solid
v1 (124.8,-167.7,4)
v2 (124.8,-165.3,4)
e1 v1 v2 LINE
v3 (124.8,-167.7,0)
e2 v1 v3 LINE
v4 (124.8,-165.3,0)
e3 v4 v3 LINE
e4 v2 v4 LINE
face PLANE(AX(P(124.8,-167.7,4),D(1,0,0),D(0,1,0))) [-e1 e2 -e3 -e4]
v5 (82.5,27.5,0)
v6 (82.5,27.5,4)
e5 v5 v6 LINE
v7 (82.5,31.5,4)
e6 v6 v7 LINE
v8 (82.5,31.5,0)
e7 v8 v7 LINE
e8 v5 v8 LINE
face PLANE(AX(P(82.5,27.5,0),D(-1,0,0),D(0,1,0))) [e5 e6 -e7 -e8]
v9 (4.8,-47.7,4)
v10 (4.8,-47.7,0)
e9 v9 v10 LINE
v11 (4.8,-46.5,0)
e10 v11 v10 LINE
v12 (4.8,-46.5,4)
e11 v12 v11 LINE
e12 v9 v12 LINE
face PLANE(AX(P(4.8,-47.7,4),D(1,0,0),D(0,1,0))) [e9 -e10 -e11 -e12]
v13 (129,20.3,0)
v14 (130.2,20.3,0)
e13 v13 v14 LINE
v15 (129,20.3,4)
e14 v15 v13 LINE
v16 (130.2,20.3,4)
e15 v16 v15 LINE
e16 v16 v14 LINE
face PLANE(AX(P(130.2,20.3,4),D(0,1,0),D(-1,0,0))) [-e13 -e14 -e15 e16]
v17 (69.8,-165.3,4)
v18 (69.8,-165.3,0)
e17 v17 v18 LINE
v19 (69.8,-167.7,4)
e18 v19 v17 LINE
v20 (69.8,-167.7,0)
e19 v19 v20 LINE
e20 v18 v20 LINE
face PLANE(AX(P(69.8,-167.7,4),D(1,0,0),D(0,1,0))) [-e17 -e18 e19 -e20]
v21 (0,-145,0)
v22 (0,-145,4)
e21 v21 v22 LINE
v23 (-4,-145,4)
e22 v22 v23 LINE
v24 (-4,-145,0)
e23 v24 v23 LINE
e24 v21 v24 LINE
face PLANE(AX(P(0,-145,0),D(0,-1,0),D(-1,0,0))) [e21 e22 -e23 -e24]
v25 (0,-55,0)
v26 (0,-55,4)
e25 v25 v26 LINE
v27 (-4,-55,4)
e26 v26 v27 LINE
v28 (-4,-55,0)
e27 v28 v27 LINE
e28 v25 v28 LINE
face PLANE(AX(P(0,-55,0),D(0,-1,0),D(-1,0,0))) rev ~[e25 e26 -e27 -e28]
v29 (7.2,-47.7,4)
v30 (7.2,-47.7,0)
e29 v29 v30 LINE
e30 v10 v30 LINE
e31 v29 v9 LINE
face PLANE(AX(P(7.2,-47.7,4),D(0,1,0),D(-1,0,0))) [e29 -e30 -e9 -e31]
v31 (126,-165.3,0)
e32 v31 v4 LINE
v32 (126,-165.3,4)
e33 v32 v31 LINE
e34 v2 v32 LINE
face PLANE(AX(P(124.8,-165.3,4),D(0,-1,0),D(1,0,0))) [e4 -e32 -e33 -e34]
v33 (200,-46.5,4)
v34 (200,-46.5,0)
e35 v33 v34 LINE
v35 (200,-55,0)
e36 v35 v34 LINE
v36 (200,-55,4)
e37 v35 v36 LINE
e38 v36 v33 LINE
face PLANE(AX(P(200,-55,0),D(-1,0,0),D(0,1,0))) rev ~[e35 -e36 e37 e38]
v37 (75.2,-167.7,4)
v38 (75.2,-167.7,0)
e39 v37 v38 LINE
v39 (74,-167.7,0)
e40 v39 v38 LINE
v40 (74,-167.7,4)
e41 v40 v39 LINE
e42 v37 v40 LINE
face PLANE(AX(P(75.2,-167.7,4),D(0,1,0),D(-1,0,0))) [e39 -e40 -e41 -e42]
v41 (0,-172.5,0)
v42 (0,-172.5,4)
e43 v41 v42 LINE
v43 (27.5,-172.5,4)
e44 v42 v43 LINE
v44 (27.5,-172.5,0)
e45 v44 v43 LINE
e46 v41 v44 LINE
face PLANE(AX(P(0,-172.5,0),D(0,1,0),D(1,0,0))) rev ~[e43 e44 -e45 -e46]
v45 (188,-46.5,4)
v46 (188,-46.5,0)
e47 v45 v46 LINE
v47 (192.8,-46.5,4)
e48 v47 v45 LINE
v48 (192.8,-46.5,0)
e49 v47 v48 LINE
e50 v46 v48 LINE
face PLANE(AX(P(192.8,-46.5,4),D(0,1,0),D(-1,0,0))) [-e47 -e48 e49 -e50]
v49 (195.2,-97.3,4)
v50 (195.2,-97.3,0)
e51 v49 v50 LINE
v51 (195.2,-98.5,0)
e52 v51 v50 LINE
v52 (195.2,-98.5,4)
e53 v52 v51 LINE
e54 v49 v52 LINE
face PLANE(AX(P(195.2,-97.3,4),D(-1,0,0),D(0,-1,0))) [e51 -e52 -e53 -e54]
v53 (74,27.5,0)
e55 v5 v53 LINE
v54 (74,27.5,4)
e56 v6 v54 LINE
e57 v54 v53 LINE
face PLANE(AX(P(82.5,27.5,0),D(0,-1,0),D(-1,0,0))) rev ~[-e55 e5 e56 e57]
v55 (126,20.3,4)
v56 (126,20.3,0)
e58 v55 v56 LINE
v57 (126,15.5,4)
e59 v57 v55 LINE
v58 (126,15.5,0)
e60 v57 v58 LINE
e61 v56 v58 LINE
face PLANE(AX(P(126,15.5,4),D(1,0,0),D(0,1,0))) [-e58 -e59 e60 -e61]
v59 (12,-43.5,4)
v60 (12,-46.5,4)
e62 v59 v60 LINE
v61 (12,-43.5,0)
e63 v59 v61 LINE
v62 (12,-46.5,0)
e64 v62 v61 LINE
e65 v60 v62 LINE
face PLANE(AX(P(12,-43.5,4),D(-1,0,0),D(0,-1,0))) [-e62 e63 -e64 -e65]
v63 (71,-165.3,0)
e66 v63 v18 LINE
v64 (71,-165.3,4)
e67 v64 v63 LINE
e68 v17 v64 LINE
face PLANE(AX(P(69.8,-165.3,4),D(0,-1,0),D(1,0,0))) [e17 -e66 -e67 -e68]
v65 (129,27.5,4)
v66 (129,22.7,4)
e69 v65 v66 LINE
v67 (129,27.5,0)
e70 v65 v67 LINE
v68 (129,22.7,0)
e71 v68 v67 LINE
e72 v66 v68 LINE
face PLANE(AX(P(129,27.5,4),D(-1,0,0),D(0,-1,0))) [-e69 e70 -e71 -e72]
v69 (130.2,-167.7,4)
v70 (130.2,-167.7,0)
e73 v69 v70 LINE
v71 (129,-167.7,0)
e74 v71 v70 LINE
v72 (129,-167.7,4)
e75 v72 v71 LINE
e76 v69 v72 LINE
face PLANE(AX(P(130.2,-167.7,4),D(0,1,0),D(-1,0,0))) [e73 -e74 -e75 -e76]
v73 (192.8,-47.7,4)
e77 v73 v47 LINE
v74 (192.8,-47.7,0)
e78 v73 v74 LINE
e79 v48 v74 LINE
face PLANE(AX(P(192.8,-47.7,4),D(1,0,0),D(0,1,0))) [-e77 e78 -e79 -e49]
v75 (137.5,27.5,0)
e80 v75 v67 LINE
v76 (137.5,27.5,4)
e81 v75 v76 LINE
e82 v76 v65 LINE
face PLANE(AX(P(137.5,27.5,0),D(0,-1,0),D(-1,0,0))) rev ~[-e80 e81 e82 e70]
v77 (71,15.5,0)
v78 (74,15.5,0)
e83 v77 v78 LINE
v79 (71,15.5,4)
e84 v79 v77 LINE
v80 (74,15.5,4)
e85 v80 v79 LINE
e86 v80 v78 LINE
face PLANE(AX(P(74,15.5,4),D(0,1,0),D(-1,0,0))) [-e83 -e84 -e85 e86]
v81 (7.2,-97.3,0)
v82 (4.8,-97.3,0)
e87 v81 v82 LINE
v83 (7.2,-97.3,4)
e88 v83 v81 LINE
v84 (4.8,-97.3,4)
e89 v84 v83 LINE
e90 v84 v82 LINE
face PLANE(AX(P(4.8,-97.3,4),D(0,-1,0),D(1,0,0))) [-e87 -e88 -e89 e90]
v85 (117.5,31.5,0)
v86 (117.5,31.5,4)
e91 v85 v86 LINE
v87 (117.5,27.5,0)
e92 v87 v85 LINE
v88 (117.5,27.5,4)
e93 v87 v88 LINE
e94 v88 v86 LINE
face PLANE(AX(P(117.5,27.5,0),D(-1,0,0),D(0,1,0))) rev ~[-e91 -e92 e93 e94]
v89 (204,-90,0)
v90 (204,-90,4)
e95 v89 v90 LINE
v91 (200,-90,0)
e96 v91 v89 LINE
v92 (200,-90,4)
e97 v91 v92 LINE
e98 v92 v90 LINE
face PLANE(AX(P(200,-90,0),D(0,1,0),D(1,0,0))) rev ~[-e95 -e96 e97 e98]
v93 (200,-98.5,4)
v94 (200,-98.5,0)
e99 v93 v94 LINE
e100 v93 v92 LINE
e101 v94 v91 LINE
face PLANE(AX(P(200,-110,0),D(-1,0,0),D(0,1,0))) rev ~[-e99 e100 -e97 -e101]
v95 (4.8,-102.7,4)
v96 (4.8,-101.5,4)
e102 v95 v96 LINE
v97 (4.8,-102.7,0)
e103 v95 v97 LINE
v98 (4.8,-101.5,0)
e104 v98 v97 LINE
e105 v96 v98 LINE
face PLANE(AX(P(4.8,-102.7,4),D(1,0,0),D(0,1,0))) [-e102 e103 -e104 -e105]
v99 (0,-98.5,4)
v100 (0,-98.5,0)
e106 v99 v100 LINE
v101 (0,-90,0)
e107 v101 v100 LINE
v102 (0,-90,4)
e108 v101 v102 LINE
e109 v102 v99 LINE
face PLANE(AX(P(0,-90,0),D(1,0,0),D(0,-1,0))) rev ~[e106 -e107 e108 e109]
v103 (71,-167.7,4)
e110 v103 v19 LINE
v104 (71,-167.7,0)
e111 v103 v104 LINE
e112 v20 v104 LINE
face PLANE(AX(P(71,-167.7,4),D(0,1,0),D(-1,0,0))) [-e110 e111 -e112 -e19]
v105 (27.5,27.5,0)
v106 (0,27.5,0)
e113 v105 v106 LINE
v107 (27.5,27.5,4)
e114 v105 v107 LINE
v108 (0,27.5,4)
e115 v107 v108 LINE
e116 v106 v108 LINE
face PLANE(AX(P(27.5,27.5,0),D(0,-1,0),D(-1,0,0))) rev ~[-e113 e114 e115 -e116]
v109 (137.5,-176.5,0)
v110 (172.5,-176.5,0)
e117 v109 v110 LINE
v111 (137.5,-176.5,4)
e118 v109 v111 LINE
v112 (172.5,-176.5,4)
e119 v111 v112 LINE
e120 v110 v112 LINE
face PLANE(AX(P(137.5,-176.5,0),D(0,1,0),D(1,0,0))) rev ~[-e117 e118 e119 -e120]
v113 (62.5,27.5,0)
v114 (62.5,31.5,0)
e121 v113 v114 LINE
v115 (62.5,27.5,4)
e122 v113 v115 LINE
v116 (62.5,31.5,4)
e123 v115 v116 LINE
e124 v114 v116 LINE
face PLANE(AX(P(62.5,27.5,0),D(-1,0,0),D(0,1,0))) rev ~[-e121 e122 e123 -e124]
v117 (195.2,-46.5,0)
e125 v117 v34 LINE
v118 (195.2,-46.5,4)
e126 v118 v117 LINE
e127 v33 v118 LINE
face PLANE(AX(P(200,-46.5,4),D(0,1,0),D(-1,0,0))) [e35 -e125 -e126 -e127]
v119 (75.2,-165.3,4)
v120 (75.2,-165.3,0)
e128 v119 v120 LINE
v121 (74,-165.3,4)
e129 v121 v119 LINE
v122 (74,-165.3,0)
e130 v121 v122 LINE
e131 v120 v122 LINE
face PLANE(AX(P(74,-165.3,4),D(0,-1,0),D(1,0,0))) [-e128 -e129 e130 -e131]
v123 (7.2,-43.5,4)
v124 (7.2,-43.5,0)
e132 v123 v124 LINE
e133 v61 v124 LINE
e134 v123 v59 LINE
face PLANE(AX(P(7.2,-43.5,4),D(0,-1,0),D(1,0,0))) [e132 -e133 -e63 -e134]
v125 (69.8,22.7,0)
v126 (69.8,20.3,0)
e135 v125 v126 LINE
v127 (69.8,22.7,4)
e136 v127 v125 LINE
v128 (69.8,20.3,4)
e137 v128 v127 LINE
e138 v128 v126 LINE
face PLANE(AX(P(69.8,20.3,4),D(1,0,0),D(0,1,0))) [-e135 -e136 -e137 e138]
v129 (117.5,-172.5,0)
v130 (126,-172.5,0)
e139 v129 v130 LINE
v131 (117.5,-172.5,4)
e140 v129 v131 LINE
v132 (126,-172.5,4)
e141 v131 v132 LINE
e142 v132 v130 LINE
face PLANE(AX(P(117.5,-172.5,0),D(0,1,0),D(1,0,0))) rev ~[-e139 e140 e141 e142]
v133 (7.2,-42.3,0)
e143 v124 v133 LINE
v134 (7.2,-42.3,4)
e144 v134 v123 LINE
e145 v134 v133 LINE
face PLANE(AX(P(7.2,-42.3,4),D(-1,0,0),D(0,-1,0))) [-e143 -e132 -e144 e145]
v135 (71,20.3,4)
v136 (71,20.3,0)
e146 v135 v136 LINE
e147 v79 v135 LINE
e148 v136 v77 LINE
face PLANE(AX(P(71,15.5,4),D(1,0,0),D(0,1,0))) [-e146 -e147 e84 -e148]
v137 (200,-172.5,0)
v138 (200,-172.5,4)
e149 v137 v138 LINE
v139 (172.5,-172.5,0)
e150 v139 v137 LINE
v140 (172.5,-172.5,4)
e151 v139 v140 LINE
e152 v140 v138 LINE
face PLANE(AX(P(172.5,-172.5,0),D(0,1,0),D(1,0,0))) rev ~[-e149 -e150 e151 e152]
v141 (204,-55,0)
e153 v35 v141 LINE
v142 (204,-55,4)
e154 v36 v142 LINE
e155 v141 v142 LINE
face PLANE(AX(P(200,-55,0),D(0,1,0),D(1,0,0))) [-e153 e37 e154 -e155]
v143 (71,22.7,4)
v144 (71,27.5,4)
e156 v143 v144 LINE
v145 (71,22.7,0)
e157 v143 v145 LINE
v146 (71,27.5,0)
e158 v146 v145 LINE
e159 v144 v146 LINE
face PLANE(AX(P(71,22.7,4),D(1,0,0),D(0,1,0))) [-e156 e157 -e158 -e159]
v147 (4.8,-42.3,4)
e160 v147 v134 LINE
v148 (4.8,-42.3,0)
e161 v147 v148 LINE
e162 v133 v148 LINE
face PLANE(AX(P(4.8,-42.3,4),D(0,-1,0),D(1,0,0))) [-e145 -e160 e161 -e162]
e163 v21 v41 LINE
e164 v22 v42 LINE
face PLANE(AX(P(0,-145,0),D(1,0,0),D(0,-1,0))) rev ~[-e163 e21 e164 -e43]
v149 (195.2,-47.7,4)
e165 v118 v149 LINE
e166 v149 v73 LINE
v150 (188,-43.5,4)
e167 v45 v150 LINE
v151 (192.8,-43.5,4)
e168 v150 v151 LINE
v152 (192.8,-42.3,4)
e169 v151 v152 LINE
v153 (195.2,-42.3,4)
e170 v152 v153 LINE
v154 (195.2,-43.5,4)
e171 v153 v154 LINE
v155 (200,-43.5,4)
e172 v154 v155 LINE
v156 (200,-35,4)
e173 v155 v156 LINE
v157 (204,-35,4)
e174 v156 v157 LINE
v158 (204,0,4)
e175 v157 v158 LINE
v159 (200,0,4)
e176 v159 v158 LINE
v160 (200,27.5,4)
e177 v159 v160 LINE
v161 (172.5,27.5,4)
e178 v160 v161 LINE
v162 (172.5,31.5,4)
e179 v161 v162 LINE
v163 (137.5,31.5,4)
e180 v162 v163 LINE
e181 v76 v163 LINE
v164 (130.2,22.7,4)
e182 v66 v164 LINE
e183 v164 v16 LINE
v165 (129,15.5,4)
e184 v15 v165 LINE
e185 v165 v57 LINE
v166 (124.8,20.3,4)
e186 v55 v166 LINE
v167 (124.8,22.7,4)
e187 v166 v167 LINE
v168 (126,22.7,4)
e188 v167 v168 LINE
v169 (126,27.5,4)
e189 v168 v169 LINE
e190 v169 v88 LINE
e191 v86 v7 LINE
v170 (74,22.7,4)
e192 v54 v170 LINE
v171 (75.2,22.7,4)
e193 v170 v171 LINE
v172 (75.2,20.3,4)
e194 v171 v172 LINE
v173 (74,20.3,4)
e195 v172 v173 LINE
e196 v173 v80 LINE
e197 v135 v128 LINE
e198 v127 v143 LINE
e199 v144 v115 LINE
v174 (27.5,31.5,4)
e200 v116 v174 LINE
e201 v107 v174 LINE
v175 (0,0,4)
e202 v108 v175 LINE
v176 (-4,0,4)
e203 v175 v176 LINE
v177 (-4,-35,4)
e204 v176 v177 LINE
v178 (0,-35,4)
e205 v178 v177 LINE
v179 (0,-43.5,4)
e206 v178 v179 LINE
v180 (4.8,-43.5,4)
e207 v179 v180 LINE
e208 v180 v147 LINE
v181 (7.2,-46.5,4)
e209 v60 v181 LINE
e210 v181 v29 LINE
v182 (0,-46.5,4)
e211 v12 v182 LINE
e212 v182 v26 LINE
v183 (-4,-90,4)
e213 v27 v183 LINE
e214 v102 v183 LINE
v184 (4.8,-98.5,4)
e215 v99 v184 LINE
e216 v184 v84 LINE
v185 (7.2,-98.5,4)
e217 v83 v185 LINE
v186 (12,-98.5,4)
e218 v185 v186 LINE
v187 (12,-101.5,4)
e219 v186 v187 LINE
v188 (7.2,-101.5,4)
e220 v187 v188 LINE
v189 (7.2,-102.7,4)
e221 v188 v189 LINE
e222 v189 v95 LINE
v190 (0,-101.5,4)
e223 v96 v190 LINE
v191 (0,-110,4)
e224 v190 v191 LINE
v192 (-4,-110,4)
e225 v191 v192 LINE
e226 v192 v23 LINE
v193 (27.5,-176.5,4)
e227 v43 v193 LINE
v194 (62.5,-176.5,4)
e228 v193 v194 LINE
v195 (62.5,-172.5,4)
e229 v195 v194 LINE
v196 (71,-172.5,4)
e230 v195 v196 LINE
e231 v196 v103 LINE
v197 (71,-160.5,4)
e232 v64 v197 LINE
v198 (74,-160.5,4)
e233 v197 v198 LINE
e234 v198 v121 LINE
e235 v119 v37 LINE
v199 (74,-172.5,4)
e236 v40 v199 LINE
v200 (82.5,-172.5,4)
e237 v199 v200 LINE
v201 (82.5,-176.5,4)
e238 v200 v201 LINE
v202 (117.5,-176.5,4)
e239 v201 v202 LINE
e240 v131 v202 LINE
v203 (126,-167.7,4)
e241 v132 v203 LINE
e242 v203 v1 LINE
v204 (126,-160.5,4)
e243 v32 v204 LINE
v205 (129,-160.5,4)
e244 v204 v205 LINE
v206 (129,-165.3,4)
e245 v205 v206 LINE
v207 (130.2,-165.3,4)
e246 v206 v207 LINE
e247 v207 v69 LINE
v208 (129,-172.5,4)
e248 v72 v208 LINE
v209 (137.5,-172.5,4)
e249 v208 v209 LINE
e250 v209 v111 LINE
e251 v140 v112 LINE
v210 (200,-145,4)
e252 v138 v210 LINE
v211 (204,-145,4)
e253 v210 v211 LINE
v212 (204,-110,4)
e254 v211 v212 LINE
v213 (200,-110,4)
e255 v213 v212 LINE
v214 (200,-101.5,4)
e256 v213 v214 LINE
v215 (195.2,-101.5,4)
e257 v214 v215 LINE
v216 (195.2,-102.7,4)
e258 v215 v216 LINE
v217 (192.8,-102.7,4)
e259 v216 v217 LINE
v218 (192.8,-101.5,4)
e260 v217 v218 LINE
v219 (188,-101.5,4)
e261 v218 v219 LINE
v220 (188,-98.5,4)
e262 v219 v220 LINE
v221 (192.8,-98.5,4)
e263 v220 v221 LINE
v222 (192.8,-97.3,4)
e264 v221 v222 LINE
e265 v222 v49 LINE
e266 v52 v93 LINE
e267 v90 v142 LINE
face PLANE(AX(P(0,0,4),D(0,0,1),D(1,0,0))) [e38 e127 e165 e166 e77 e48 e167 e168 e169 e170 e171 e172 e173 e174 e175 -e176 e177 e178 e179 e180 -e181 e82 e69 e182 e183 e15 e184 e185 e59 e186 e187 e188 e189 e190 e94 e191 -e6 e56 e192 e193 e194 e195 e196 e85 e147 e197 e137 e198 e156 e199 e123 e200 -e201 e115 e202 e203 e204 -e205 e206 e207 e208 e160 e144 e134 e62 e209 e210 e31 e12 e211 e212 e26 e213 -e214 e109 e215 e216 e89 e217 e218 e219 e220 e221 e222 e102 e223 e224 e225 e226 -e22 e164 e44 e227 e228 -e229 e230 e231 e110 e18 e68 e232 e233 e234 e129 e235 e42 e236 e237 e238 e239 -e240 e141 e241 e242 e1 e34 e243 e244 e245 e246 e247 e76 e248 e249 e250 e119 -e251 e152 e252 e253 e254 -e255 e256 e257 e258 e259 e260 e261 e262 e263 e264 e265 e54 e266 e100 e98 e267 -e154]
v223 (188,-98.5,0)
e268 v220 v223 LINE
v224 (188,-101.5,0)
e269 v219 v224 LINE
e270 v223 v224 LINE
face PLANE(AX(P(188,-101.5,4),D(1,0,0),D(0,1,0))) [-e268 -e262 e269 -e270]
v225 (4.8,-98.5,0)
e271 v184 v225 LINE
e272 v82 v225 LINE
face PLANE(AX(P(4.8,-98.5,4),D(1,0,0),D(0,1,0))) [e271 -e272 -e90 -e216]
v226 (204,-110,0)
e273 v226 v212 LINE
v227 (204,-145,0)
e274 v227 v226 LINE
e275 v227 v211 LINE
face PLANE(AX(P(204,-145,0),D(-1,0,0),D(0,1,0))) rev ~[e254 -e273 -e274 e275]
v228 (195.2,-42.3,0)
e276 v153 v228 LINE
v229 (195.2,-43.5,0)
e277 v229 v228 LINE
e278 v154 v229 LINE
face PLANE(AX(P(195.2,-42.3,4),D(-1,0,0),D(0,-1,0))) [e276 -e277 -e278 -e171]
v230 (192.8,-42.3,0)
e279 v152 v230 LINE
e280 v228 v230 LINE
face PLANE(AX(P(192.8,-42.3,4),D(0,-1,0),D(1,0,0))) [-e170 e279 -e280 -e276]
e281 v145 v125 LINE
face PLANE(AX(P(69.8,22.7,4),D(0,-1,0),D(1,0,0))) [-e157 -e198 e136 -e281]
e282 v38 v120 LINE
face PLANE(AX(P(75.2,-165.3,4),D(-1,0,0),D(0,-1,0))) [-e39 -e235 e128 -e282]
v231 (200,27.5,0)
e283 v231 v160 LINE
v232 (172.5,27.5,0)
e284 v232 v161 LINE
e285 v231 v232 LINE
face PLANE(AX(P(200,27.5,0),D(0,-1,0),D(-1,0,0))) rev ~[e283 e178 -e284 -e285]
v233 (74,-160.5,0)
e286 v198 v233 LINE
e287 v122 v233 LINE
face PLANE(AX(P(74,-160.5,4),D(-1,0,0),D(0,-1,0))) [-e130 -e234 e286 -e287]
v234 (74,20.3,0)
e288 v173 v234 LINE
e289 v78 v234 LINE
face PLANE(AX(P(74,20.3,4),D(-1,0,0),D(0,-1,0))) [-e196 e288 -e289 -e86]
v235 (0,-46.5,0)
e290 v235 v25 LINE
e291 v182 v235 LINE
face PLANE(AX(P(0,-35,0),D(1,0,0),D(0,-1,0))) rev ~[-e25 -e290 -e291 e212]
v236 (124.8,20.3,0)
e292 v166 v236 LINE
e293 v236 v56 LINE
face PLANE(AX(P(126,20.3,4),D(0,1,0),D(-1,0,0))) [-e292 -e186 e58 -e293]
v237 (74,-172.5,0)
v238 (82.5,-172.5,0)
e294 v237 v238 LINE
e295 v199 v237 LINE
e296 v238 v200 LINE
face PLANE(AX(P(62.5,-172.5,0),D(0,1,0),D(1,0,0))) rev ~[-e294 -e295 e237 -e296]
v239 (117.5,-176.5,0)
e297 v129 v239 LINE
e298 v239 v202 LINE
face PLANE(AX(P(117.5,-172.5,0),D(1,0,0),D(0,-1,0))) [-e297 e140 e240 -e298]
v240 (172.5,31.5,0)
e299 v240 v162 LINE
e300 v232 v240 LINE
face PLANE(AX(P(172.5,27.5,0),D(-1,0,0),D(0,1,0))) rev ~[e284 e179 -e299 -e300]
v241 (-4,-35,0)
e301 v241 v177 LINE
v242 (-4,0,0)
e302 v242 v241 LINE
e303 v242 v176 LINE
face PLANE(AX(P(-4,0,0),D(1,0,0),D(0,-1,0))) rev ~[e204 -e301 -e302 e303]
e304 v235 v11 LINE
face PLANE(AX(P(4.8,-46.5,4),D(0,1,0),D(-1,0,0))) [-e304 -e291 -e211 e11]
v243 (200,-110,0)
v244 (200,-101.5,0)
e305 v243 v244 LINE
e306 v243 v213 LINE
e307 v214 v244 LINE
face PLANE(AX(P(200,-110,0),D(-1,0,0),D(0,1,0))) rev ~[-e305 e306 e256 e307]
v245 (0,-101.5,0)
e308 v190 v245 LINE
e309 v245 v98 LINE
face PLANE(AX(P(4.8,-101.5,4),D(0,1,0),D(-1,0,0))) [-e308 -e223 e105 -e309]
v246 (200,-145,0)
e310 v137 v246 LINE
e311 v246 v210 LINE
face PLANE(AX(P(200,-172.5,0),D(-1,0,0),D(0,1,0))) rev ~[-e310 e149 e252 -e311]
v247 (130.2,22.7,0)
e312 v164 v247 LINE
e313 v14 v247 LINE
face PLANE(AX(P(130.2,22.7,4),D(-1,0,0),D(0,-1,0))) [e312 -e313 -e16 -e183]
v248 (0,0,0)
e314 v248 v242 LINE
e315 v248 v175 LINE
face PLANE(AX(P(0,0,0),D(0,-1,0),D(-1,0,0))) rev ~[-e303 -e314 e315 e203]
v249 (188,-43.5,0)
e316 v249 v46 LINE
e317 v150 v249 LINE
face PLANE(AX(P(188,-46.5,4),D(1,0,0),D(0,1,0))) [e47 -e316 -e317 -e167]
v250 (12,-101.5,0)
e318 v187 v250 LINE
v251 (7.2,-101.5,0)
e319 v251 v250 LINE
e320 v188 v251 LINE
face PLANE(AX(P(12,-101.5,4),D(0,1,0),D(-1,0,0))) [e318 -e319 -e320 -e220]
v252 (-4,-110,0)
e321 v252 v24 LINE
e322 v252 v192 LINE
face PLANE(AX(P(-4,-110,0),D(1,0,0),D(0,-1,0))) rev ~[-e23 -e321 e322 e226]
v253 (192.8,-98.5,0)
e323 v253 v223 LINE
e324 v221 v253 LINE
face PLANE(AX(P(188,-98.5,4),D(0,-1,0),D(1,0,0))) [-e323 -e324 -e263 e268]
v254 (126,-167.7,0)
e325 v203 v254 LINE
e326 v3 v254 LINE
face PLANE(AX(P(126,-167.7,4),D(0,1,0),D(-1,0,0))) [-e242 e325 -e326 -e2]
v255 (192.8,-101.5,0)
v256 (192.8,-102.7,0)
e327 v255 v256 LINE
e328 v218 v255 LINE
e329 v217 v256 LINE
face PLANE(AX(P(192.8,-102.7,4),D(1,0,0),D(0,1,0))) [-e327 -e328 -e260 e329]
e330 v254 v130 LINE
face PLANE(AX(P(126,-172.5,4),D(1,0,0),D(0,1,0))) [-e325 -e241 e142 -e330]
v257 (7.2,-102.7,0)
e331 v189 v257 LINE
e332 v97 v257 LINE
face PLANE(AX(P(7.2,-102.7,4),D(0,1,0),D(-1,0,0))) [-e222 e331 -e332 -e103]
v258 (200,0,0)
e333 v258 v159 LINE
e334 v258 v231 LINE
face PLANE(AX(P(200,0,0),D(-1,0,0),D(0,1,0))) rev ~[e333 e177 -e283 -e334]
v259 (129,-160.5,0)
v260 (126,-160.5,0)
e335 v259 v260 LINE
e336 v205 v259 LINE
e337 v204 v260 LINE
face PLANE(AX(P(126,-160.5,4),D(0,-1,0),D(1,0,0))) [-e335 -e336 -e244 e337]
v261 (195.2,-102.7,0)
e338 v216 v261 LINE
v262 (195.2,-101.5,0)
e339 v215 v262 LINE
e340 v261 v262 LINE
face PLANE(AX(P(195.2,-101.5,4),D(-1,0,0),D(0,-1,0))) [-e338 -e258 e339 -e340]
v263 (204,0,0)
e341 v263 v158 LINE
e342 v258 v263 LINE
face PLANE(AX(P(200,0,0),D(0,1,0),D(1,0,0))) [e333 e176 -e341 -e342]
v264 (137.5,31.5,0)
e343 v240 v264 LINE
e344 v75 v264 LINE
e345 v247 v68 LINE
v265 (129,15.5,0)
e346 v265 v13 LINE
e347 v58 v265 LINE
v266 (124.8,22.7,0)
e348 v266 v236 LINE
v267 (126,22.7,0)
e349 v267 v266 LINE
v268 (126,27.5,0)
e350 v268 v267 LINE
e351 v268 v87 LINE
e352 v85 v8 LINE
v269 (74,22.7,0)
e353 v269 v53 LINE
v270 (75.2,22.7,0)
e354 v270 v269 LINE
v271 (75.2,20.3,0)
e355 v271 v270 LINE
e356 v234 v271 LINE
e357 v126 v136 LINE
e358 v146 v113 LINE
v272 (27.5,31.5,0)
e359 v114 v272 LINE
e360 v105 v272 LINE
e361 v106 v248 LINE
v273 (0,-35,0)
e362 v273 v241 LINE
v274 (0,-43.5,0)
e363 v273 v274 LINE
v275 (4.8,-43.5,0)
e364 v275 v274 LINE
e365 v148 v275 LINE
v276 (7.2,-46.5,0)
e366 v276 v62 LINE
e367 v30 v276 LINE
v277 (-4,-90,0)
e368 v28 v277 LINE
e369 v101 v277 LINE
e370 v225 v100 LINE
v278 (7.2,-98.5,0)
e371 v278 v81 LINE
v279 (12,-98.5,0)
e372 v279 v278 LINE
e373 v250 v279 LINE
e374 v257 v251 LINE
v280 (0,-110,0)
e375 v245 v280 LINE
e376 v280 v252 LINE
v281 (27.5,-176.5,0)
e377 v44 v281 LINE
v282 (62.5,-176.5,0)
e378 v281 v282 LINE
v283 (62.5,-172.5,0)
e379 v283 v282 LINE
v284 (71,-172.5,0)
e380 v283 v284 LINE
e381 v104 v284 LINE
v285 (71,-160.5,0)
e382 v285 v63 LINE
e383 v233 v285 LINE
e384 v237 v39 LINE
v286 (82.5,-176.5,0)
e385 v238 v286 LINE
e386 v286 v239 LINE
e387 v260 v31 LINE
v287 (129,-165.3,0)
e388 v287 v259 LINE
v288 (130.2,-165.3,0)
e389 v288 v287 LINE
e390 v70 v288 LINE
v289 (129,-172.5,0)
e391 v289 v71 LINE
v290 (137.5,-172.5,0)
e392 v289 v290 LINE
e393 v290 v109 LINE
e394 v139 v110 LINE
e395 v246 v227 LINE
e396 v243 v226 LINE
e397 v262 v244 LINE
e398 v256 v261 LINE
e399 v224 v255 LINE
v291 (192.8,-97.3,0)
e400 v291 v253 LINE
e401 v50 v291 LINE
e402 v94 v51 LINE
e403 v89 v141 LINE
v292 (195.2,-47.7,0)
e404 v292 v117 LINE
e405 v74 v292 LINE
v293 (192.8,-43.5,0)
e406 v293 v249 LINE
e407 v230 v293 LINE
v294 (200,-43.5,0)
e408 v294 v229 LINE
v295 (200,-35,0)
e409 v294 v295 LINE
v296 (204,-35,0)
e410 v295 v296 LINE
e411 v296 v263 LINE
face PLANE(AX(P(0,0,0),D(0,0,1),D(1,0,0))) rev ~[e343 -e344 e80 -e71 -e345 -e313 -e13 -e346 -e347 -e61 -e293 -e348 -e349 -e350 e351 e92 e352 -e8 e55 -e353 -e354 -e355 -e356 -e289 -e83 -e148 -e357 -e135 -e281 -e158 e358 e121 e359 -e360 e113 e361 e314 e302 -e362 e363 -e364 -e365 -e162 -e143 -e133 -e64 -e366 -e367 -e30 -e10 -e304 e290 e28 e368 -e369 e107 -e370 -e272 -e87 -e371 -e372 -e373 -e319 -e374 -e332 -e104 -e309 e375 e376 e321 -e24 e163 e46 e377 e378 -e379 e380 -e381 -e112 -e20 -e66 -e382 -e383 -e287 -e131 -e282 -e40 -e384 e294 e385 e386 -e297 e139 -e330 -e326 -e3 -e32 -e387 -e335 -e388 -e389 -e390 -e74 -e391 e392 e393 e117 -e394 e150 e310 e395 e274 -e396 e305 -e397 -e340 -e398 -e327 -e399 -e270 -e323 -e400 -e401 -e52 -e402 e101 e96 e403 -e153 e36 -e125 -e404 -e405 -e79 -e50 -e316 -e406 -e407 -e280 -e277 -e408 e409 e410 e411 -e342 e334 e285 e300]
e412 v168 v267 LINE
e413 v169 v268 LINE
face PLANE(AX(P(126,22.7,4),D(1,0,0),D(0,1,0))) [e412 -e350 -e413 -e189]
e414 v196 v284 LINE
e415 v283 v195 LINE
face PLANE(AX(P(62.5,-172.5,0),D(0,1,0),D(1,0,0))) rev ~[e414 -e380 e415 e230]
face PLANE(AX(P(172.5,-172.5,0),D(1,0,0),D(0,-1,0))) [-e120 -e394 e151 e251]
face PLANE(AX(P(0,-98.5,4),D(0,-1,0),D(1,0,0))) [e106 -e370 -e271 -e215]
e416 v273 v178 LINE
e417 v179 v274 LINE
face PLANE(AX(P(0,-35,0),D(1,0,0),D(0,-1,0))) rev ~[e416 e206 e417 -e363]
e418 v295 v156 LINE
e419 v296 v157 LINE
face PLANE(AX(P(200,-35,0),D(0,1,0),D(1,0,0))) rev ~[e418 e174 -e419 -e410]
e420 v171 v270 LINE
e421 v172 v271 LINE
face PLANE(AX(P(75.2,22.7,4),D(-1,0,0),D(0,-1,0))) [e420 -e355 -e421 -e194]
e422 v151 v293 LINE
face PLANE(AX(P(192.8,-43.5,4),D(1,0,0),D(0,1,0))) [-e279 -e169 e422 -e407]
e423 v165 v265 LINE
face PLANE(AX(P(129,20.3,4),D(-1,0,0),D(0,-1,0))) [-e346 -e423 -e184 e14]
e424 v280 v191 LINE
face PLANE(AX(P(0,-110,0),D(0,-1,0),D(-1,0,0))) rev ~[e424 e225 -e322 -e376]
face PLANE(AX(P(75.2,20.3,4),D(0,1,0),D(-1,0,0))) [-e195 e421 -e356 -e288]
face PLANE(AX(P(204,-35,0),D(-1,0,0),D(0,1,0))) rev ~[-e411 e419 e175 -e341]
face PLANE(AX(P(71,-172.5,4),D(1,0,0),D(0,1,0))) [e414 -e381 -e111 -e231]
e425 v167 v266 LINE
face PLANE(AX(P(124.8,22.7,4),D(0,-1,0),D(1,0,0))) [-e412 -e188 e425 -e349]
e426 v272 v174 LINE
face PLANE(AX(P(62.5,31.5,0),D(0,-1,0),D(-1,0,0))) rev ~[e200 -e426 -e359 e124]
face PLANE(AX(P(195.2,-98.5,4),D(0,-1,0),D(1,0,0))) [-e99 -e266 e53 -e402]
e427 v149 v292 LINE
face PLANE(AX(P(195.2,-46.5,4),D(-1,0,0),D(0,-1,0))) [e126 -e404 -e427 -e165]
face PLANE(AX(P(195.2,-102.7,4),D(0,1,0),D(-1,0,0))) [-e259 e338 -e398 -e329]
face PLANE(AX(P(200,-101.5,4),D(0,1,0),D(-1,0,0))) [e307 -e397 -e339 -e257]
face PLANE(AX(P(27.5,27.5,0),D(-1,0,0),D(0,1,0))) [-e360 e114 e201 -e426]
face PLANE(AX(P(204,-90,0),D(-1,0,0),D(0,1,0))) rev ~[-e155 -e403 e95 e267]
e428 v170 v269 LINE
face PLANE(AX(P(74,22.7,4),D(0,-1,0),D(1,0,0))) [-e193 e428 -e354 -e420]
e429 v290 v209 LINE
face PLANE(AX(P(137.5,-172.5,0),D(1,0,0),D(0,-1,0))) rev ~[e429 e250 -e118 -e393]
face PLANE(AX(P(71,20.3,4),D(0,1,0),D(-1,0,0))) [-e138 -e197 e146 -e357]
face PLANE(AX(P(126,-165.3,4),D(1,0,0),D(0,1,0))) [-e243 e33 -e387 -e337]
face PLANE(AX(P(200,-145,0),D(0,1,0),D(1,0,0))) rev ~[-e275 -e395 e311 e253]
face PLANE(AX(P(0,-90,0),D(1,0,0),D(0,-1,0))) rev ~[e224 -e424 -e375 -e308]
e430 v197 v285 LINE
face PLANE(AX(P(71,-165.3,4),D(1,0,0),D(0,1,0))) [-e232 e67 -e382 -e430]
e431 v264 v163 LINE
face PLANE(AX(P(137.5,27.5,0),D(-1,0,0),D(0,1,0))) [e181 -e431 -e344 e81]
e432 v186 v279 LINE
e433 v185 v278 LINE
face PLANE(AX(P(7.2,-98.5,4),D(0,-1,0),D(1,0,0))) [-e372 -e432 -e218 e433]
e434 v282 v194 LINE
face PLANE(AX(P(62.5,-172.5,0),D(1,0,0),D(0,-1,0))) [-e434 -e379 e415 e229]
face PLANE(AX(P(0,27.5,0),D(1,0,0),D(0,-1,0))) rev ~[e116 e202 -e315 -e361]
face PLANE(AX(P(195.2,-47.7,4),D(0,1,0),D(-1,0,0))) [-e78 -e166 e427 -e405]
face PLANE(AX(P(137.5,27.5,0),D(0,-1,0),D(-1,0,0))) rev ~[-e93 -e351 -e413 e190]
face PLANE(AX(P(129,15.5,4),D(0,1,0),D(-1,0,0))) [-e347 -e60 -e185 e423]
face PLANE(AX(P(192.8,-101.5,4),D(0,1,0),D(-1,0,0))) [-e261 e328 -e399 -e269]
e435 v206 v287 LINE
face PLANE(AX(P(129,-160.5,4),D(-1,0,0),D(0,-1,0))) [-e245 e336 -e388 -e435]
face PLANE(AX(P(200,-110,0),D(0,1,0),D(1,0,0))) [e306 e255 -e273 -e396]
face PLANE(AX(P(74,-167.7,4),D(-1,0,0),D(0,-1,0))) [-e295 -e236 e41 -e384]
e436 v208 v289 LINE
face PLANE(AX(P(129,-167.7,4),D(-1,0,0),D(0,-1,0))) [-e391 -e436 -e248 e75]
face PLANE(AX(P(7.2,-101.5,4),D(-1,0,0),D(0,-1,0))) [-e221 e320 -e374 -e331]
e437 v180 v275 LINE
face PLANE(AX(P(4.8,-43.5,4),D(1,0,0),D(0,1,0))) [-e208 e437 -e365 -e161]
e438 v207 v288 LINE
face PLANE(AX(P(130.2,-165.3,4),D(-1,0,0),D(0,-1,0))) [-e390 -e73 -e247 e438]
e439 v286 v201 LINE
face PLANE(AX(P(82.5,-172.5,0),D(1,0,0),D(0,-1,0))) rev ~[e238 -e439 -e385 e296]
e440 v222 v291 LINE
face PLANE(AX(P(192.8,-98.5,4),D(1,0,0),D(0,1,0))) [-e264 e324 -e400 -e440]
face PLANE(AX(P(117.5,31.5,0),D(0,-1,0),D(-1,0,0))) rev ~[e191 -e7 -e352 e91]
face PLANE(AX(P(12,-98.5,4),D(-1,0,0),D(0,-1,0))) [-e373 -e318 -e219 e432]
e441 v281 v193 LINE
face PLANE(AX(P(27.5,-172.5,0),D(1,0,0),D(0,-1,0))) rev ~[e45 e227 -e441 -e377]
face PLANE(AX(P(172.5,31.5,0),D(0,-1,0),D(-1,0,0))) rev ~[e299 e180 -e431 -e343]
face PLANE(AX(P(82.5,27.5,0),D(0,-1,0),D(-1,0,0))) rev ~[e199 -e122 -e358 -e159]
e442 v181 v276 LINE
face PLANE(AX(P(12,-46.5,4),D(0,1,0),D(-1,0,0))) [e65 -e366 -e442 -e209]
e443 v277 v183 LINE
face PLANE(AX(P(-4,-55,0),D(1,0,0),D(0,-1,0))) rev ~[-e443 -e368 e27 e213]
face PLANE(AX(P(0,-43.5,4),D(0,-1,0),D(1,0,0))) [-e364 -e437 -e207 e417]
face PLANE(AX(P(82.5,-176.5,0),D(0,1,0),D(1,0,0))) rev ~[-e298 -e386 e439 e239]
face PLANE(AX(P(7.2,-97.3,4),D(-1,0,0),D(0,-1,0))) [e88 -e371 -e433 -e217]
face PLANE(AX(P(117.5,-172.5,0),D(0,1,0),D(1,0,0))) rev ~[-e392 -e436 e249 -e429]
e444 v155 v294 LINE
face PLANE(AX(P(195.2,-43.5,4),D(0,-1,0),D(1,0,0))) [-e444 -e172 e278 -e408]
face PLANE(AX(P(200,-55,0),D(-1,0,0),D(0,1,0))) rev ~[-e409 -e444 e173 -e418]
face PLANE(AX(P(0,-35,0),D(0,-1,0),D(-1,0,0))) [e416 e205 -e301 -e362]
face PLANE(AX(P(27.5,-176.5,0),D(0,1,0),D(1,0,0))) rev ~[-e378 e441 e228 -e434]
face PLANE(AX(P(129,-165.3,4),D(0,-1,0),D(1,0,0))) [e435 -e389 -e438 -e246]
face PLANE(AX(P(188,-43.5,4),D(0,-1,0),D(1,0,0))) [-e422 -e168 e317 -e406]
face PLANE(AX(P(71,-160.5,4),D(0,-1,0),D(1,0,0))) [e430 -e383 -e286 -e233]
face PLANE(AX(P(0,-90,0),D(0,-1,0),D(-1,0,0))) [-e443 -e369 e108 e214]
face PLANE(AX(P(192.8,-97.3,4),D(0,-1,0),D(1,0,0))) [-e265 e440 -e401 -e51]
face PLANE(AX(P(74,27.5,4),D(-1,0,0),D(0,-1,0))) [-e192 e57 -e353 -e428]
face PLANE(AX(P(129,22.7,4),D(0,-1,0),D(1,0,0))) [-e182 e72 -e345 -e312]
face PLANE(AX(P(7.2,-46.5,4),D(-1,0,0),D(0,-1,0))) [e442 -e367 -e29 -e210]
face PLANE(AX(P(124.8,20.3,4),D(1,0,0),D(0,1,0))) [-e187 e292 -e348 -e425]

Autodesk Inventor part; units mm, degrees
ref_plane "YZ Plane" through (0, 0, 0) normal (1, 0, 0) x (0, 1, 0)
ref_plane "XZ Plane" through (0, 0, 0) normal (0, 1, 0) x (-1, 0, 0)
ref_plane "XY Plane" through (0, 0, 0) normal (0, 0, 1) x (1, 0, 0)
ref_plane "Work Plane1" through (0, 0, 0) normal (0, 0, 1) x (1, 0, 0)
sketch "Sketch2" plane through (0, 0, 0) normal (0, 0, 1) x (1, 0, 0)
  line L0 (-4, -110) -> (-4, -145) projected
  line L1 (0, -110) -> (-4, -110) projected
  line L2 (0, -145) -> (0, -110) projected
  line L3 (0, -145) -> (-4, -145) projected
  line L4 (-4, -55) -> (-4, -90) projected
  line L5 (0, -55) -> (-4, -55) projected
  line L6 (0, -90) -> (0, -55) projected
  line L7 (0, -90) -> (-4, -90) projected
  line L8 (-4, 0) -> (-4, -35) projected
  line L9 (0, 0) -> (-4, 0) projected
  line L10 (0, -35) -> (0, 0) projected
  line L11 (0, -35) -> (-4, -35) projected
  line L12 (62.5, 31.5) -> (27.5, 31.5) projected
  line L13 (62.5, 27.5) -> (62.5, 31.5) projected
  line L14 (27.5, 27.5) -> (62.5, 27.5) projected
  line L15 (27.5, 27.5) -> (27.5, 31.5) projected
  line L16 (117.5, 31.5) -> (82.5, 31.5) projected
  line L17 (117.5, 27.5) -> (117.5, 31.5) projected
  line L18 (82.5, 27.5) -> (117.5, 27.5) projected
  line L19 (82.5, 27.5) -> (82.5, 31.5) projected
  line L20 (172.5, 31.5) -> (137.5, 31.5) projected
  line L21 (172.5, 27.5) -> (172.5, 31.5) projected
  line L22 (137.5, 27.5) -> (172.5, 27.5) projected
  line L23 (137.5, 27.5) -> (137.5, 31.5) projected
  line L24 (204, -35) -> (204, 0) projected
  line L25 (200, -35) -> (204, -35) projected
  line L26 (200, 0) -> (200, -35) projected
  line L27 (200, 0) -> (204, 0) projected
  line L28 (204, -90) -> (204, -55) projected
  line L29 (200, -90) -> (204, -90) projected
  line L30 (200, -55) -> (200, -90) projected
  line L31 (200, -55) -> (204, -55) projected
  line L32 (204, -145) -> (204, -110) projected
  line L33 (200, -145) -> (204, -145) projected
  line L34 (200, -110) -> (200, -145) projected
  line L35 (200, -110) -> (204, -110) projected
  line L36 (137.5, -176.5) -> (172.5, -176.5) projected
  line L37 (137.5, -172.5) -> (137.5, -176.5) projected
  line L38 (172.5, -172.5) -> (137.5, -172.5) projected
  line L39 (172.5, -172.5) -> (172.5, -176.5) projected
  line L40 (82.5, -176.5) -> (117.5, -176.5) projected
  line L41 (82.5, -172.5) -> (82.5, -176.5) projected
  line L42 (117.5, -172.5) -> (82.5, -172.5) projected
  line L43 (117.5, -172.5) -> (117.5, -176.5) projected
  line L44 (27.5, -176.5) -> (62.5, -176.5) projected
  line L45 (27.5, -172.5) -> (27.5, -176.5) projected
  line L46 (62.5, -172.5) -> (27.5, -172.5) projected
  line L47 (62.5, -172.5) -> (62.5, -176.5) projected
  line L48 (0, -172.5) -> (200, -172.5)
  line L49 (200, -172.5) -> (200, 27.5)
  line L50 (200, 27.5) -> (0, 27.5)
  line L51 (0, 27.5) -> (0, -172.5)
  point P0 (0, 27.5)
  point P1 (200, -172.5)
extrude "Extrusion2" add sketch "Sketch2" along normal blind 4
sketch "Sketch3" plane through (0, 0, 4) normal (0, 0, 1) x (1, 0, 0)
  line L0 (71, 27.5) -> (74, 27.5)
  line L1 (74, 27.5) -> (74, 15.5)
  line L2 (74, 15.5) -> (71, 15.5)
  line L3 (71, 15.5) -> (71, 27.5)
  line L4 (69.8, 22.7) -> (75.2, 22.7)
  line L5 (75.2, 22.7) -> (75.2, 20.3)
  line L6 (75.2, 20.3) -> (69.8, 20.3)
  line L7 (69.8, 20.3) -> (69.8, 22.7)
  line L8 (124.8, 22.7) -> (130.2, 22.7)
  line L9 (130.2, 22.7) -> (130.2, 20.3)
  line L10 (130.2, 20.3) -> (124.8, 20.3)
  line L11 (124.8, 20.3) -> (124.8, 22.7)
  line L12 (126, 27.5) -> (129, 27.5)
  line L13 (129, 27.5) -> (129, 15.5)
  line L14 (129, 15.5) -> (126, 15.5)
  line L15 (126, 15.5) -> (126, 27.5)
  line L16 (-4, -145) -> (0, -145) projected
  line L17 (0, -145) -> (0, -172.5) projected
  line L18 (0, -172.5) -> (27.5, -172.5) projected
  line L19 (27.5, -172.5) -> (27.5, -176.5) projected
  line L20 (27.5, -176.5) -> (62.5, -176.5) projected
  line L21 (62.5, -176.5) -> (62.5, -172.5) projected
  line L22 (62.5, -172.5) -> (82.5, -172.5) projected
  line L23 (82.5, -172.5) -> (82.5, -176.5) projected
  line L24 (82.5, -176.5) -> (117.5, -176.5) projected
  line L25 (117.5, -176.5) -> (117.5, -172.5) projected
  line L26 (117.5, -172.5) -> (137.5, -172.5) projected
  line L27 (137.5, -172.5) -> (137.5, -176.5) projected
  line L28 (137.5, -176.5) -> (172.5, -176.5) projected
  line L29 (172.5, -176.5) -> (172.5, -172.5) projected
  line L30 (172.5, -172.5) -> (200, -172.5) projected
  line L31 (200, -172.5) -> (200, -145) projected
  line L32 (200, -145) -> (204, -145) projected
  line L33 (204, -145) -> (204, -110) projected
  line L34 (204, -110) -> (200, -110) projected
  line L35 (200, -110) -> (200, -90) projected
  line L36 (200, -90) -> (204, -90) projected
  line L37 (204, -90) -> (204, -55) projected
  line L38 (204, -55) -> (200, -55) projected
  line L39 (200, -55) -> (200, -35) projected
  line L40 (200, -35) -> (204, -35) projected
  line L41 (204, -35) -> (204, 0) projected
  line L42 (204, 0) -> (200, 0) projected
  line L43 (200, 0) -> (200, 27.5) projected
  line L44 (200, 27.5) -> (172.5, 27.5) projected
  line L45 (172.5, 27.5) -> (172.5, 31.5) projected
  line L46 (172.5, 31.5) -> (137.5, 31.5) projected
  line L47 (137.5, 31.5) -> (137.5, 27.5) projected
  line L48 (137.5, 27.5) -> (117.5, 27.5) projected
  line L49 (117.5, 27.5) -> (117.5, 31.5) projected
  line L50 (117.5, 31.5) -> (82.5, 31.5) projected
  line L51 (82.5, 31.5) -> (82.5, 27.5) projected
  line L52 (82.5, 27.5) -> (62.5, 27.5) projected
  line L53 (62.5, 27.5) -> (62.5, 31.5) projected
  line L54 (62.5, 31.5) -> (27.5, 31.5) projected
  line L55 (27.5, 31.5) -> (27.5, 27.5) projected
  line L56 (27.5, 27.5) -> (0, 27.5) projected
  line L57 (0, 27.5) -> (0, 0) projected
  line L58 (0, 0) -> (-4, 0) projected
  line L59 (-4, 0) -> (-4, -35) projected
  line L60 (-4, -35) -> (0, -35) projected
  line L61 (0, -35) -> (0, -55) projected
  line L62 (0, -55) -> (-4, -55) projected
  line L63 (-4, -55) -> (-4, -90) projected
  line L64 (-4, -90) -> (0, -90) projected
  line L65 (0, -90) -> (0, -110) projected
  line L66 (0, -110) -> (-4, -110) projected
  line L67 (-4, -110) -> (-4, -145) projected
  line L68 (137.5, 27.5) -> (117.5, 27.5) projected
  line L69 (27.5, 27.5) -> (0, 27.5) projected
  line L70 (0, 27.5) -> (200, -172.5) construction
  line L71 (0, -101.5) -> (0, -98.5)
  line L72 (0, -98.5) -> (12, -98.5)
  line L73 (12, -98.5) -> (12, -101.5)
  line L74 (12, -101.5) -> (0, -101.5)
  line L75 (4.8, -102.7) -> (4.8, -97.3)
  line L76 (4.8, -97.3) -> (7.2, -97.3)
  line L77 (7.2, -97.3) -> (7.2, -102.7)
  line L78 (7.2, -102.7) -> (4.8, -102.7)
  line L79 (12, -43.5) -> (12, -46.5)
  line L80 (7.2, -47.7) -> (4.8, -47.7)
  line L81 (7.2, -42.3) -> (7.2, -47.7)
  line L82 (4.8, -47.7) -> (4.8, -42.3)
  line L83 (12, -46.5) -> (0, -46.5)
  line L84 (0, -43.5) -> (12, -43.5)
  line L85 (0, -46.5) -> (0, -43.5)
  line L86 (4.8, -42.3) -> (7.2, -42.3)
  line L87 (129, -172.5) -> (126, -172.5)
  line L88 (126, -172.5) -> (126, -160.5)
  line L89 (126, -160.5) -> (129, -160.5)
  line L90 (129, -160.5) -> (129, -172.5)
  line L91 (130.2, -167.7) -> (124.8, -167.7)
  line L92 (124.8, -167.7) -> (124.8, -165.3)
  line L93 (124.8, -165.3) -> (130.2, -165.3)
  line L94 (130.2, -165.3) -> (130.2, -167.7)
  line L95 (71, -160.5) -> (74, -160.5)
  line L96 (75.2, -165.3) -> (75.2, -167.7)
  line L97 (69.8, -165.3) -> (75.2, -165.3)
  line L98 (75.2, -167.7) -> (69.8, -167.7)
  line L99 (74, -160.5) -> (74, -172.5)
  line L100 (71, -172.5) -> (71, -160.5)
  line L101 (74, -172.5) -> (71, -172.5)
  line L102 (69.8, -167.7) -> (69.8, -165.3)
  line L103 (200, -43.5) -> (200, -46.5)
  line L104 (200, -46.5) -> (188, -46.5)
  line L105 (188, -46.5) -> (188, -43.5)
  line L106 (188, -43.5) -> (200, -43.5)
  line L107 (195.2, -42.3) -> (195.2, -47.7)
  line L108 (195.2, -47.7) -> (192.8, -47.7)
  line L109 (192.8, -47.7) -> (192.8, -42.3)
  line L110 (192.8, -42.3) -> (195.2, -42.3)
  line L111 (188, -101.5) -> (188, -98.5)
  line L112 (192.8, -97.3) -> (195.2, -97.3)
  line L113 (192.8, -102.7) -> (192.8, -97.3)
  line L114 (195.2, -97.3) -> (195.2, -102.7)
  line L115 (188, -98.5) -> (200, -98.5)
  line L116 (200, -101.5) -> (188, -101.5)
  line L117 (200, -98.5) -> (200, -101.5)
  line L118 (195.2, -102.7) -> (192.8, -102.7)
  point P0 (72.5, 15.5)
  point P1 (72.5, 20.3)
  point P2 (72.5, 27.5)
  point P3 (127.5, 27.5)
  point P4 (127.5, 22.7)
  point P5 (127.5, 15.5)
  point P6 (127.5, 27.5)
  point P7 (127.5, 20.3)
  point P8 (75.2, 21.5)
  point P9 (74, 21.5)
  point P10 (100, -72.5)
  point P11 (6, -98.5)
  point P12 (12, -100)
  point P13 (6, -97.3)
  point P14 (7.2, -100)
  point P15 (0, -100)
  point P16 (12, -45)
  point P17 (7.2, -45)
  point P18 (4.8, -45)
  point P19 (0, -45)
  point P20 (0, -45)
  point P21 (126, -166.5)
  point P22 (127.5, -160.5)
  point P23 (124.8, -166.5)
  point P24 (127.5, -165.3)
  point P25 (127.5, -172.5)
  point P26 (72.5, -160.5)
  point P27 (72.5, -165.3)
  point P28 (72.5, -167.7)
  point P29 (72.5, -172.5)
  point P30 (72.5, -172.5)
  point P31 (194, -46.5)
  point P32 (188, -45)
  point P33 (194, -47.7)
  point P34 (192.8, -45)
  point P35 (200, -45)
  point P36 (188, -100)
  point P37 (192.8, -100)
  point P38 (195.2, -100)
  point P39 (200, -100)
  point P40 (200, -100)
  point P41 (4.8, -46.5)
  point P42 (7.2, -46.5)
  point P43 (7.2, -43.5)
  point P44 (4.8, -43.5)
  point P45 (74, 22.7)
  point P46 (71, 22.7)
  point P47 (71, 20.3)
  point P48 (74, 20.3)
  point P49 (195.2, -46.5)
  point P50 (195.2, -43.5)
  point P51 (192.8, -43.5)
  point P52 (192.8, -46.5)
  point P53 (126, 22.7)
  point P54 (126, 20.3)
  point P55 (129, 20.3)
  point P56 (129, 22.7)
  point P57 (74, -167.7)
  point P58 (74, -165.3)
  point P59 (71, -165.3)
  point P60 (71, -167.7)
  point P61 (4.8, -98.5)
  point P62 (4.8, -101.5)
  point P63 (7.2, -101.5)
  point P64 (7.2, -98.5)
  point P65 (195.2, -98.5)
  point P66 (192.8, -98.5)
  point P67 (192.8, -101.5)
  point P68 (195.2, -101.5)
  point P69 (126, -167.7)
  point P70 (129, -167.7)
  point P71 (129, -165.3)
  point P72 (126, -165.3)
  dimension "d4" = 3
  dimension "d5" = 12
  dimension "d6" = 2.4
  dimension "d7" = 5.4
  dimension "d10" = 360
extrude "Extrusion3" cut sketch "Sketch3" against normal up to next contours L0 L1 L4 L3 | L4 L1 L6 L3 | L3 L6 L7 L4 | L4 L5 L6 L1 | L6 L1 L2 L3 | L12 L13 L8 L15 | L15 L10 L11 L8 | L8 L13 L10 L15 | L8 L9 L10 L13 | L10 L13 L14 L15 | L84 L82 L83 L61 | L84 L81 L83 L82 | L82 L86 L81 L84 | L83 L81 L80 L82 | L84 L79 L83 L81 | L72 L75 L74 L65 | L39 L104 L107 L106 | L75 L76 L77 L72 | L72 L77 L74 L75 | L107 L104 L109 L106 | L106 L109 L110 L107 | L74 L77 L78 L75 | L72 L73 L74 L77 | L107 L108 L109 L104 | L109 L104 L105 L106 | L35 L116 L114 L115 | L115 L113 L112 L114 | L114 L116 L113 L115 | L114 L118 L113 L116 | L113 L116 L111 L115 | L100 L98 L99 L22 | L100 L97 L99 L98 | L98 L102 L97 L100 | L99 L97 L96 L98 | L100 L95 L99 L97 | L88 L91 L90 L26 | L91 L92 L93 L88 | L88 L93 L90 L91 | L90 L93 L94 L91 | L88 L89 L90 L93
properties part number "Floor" material "MDF Medium Density Fiberboard"
